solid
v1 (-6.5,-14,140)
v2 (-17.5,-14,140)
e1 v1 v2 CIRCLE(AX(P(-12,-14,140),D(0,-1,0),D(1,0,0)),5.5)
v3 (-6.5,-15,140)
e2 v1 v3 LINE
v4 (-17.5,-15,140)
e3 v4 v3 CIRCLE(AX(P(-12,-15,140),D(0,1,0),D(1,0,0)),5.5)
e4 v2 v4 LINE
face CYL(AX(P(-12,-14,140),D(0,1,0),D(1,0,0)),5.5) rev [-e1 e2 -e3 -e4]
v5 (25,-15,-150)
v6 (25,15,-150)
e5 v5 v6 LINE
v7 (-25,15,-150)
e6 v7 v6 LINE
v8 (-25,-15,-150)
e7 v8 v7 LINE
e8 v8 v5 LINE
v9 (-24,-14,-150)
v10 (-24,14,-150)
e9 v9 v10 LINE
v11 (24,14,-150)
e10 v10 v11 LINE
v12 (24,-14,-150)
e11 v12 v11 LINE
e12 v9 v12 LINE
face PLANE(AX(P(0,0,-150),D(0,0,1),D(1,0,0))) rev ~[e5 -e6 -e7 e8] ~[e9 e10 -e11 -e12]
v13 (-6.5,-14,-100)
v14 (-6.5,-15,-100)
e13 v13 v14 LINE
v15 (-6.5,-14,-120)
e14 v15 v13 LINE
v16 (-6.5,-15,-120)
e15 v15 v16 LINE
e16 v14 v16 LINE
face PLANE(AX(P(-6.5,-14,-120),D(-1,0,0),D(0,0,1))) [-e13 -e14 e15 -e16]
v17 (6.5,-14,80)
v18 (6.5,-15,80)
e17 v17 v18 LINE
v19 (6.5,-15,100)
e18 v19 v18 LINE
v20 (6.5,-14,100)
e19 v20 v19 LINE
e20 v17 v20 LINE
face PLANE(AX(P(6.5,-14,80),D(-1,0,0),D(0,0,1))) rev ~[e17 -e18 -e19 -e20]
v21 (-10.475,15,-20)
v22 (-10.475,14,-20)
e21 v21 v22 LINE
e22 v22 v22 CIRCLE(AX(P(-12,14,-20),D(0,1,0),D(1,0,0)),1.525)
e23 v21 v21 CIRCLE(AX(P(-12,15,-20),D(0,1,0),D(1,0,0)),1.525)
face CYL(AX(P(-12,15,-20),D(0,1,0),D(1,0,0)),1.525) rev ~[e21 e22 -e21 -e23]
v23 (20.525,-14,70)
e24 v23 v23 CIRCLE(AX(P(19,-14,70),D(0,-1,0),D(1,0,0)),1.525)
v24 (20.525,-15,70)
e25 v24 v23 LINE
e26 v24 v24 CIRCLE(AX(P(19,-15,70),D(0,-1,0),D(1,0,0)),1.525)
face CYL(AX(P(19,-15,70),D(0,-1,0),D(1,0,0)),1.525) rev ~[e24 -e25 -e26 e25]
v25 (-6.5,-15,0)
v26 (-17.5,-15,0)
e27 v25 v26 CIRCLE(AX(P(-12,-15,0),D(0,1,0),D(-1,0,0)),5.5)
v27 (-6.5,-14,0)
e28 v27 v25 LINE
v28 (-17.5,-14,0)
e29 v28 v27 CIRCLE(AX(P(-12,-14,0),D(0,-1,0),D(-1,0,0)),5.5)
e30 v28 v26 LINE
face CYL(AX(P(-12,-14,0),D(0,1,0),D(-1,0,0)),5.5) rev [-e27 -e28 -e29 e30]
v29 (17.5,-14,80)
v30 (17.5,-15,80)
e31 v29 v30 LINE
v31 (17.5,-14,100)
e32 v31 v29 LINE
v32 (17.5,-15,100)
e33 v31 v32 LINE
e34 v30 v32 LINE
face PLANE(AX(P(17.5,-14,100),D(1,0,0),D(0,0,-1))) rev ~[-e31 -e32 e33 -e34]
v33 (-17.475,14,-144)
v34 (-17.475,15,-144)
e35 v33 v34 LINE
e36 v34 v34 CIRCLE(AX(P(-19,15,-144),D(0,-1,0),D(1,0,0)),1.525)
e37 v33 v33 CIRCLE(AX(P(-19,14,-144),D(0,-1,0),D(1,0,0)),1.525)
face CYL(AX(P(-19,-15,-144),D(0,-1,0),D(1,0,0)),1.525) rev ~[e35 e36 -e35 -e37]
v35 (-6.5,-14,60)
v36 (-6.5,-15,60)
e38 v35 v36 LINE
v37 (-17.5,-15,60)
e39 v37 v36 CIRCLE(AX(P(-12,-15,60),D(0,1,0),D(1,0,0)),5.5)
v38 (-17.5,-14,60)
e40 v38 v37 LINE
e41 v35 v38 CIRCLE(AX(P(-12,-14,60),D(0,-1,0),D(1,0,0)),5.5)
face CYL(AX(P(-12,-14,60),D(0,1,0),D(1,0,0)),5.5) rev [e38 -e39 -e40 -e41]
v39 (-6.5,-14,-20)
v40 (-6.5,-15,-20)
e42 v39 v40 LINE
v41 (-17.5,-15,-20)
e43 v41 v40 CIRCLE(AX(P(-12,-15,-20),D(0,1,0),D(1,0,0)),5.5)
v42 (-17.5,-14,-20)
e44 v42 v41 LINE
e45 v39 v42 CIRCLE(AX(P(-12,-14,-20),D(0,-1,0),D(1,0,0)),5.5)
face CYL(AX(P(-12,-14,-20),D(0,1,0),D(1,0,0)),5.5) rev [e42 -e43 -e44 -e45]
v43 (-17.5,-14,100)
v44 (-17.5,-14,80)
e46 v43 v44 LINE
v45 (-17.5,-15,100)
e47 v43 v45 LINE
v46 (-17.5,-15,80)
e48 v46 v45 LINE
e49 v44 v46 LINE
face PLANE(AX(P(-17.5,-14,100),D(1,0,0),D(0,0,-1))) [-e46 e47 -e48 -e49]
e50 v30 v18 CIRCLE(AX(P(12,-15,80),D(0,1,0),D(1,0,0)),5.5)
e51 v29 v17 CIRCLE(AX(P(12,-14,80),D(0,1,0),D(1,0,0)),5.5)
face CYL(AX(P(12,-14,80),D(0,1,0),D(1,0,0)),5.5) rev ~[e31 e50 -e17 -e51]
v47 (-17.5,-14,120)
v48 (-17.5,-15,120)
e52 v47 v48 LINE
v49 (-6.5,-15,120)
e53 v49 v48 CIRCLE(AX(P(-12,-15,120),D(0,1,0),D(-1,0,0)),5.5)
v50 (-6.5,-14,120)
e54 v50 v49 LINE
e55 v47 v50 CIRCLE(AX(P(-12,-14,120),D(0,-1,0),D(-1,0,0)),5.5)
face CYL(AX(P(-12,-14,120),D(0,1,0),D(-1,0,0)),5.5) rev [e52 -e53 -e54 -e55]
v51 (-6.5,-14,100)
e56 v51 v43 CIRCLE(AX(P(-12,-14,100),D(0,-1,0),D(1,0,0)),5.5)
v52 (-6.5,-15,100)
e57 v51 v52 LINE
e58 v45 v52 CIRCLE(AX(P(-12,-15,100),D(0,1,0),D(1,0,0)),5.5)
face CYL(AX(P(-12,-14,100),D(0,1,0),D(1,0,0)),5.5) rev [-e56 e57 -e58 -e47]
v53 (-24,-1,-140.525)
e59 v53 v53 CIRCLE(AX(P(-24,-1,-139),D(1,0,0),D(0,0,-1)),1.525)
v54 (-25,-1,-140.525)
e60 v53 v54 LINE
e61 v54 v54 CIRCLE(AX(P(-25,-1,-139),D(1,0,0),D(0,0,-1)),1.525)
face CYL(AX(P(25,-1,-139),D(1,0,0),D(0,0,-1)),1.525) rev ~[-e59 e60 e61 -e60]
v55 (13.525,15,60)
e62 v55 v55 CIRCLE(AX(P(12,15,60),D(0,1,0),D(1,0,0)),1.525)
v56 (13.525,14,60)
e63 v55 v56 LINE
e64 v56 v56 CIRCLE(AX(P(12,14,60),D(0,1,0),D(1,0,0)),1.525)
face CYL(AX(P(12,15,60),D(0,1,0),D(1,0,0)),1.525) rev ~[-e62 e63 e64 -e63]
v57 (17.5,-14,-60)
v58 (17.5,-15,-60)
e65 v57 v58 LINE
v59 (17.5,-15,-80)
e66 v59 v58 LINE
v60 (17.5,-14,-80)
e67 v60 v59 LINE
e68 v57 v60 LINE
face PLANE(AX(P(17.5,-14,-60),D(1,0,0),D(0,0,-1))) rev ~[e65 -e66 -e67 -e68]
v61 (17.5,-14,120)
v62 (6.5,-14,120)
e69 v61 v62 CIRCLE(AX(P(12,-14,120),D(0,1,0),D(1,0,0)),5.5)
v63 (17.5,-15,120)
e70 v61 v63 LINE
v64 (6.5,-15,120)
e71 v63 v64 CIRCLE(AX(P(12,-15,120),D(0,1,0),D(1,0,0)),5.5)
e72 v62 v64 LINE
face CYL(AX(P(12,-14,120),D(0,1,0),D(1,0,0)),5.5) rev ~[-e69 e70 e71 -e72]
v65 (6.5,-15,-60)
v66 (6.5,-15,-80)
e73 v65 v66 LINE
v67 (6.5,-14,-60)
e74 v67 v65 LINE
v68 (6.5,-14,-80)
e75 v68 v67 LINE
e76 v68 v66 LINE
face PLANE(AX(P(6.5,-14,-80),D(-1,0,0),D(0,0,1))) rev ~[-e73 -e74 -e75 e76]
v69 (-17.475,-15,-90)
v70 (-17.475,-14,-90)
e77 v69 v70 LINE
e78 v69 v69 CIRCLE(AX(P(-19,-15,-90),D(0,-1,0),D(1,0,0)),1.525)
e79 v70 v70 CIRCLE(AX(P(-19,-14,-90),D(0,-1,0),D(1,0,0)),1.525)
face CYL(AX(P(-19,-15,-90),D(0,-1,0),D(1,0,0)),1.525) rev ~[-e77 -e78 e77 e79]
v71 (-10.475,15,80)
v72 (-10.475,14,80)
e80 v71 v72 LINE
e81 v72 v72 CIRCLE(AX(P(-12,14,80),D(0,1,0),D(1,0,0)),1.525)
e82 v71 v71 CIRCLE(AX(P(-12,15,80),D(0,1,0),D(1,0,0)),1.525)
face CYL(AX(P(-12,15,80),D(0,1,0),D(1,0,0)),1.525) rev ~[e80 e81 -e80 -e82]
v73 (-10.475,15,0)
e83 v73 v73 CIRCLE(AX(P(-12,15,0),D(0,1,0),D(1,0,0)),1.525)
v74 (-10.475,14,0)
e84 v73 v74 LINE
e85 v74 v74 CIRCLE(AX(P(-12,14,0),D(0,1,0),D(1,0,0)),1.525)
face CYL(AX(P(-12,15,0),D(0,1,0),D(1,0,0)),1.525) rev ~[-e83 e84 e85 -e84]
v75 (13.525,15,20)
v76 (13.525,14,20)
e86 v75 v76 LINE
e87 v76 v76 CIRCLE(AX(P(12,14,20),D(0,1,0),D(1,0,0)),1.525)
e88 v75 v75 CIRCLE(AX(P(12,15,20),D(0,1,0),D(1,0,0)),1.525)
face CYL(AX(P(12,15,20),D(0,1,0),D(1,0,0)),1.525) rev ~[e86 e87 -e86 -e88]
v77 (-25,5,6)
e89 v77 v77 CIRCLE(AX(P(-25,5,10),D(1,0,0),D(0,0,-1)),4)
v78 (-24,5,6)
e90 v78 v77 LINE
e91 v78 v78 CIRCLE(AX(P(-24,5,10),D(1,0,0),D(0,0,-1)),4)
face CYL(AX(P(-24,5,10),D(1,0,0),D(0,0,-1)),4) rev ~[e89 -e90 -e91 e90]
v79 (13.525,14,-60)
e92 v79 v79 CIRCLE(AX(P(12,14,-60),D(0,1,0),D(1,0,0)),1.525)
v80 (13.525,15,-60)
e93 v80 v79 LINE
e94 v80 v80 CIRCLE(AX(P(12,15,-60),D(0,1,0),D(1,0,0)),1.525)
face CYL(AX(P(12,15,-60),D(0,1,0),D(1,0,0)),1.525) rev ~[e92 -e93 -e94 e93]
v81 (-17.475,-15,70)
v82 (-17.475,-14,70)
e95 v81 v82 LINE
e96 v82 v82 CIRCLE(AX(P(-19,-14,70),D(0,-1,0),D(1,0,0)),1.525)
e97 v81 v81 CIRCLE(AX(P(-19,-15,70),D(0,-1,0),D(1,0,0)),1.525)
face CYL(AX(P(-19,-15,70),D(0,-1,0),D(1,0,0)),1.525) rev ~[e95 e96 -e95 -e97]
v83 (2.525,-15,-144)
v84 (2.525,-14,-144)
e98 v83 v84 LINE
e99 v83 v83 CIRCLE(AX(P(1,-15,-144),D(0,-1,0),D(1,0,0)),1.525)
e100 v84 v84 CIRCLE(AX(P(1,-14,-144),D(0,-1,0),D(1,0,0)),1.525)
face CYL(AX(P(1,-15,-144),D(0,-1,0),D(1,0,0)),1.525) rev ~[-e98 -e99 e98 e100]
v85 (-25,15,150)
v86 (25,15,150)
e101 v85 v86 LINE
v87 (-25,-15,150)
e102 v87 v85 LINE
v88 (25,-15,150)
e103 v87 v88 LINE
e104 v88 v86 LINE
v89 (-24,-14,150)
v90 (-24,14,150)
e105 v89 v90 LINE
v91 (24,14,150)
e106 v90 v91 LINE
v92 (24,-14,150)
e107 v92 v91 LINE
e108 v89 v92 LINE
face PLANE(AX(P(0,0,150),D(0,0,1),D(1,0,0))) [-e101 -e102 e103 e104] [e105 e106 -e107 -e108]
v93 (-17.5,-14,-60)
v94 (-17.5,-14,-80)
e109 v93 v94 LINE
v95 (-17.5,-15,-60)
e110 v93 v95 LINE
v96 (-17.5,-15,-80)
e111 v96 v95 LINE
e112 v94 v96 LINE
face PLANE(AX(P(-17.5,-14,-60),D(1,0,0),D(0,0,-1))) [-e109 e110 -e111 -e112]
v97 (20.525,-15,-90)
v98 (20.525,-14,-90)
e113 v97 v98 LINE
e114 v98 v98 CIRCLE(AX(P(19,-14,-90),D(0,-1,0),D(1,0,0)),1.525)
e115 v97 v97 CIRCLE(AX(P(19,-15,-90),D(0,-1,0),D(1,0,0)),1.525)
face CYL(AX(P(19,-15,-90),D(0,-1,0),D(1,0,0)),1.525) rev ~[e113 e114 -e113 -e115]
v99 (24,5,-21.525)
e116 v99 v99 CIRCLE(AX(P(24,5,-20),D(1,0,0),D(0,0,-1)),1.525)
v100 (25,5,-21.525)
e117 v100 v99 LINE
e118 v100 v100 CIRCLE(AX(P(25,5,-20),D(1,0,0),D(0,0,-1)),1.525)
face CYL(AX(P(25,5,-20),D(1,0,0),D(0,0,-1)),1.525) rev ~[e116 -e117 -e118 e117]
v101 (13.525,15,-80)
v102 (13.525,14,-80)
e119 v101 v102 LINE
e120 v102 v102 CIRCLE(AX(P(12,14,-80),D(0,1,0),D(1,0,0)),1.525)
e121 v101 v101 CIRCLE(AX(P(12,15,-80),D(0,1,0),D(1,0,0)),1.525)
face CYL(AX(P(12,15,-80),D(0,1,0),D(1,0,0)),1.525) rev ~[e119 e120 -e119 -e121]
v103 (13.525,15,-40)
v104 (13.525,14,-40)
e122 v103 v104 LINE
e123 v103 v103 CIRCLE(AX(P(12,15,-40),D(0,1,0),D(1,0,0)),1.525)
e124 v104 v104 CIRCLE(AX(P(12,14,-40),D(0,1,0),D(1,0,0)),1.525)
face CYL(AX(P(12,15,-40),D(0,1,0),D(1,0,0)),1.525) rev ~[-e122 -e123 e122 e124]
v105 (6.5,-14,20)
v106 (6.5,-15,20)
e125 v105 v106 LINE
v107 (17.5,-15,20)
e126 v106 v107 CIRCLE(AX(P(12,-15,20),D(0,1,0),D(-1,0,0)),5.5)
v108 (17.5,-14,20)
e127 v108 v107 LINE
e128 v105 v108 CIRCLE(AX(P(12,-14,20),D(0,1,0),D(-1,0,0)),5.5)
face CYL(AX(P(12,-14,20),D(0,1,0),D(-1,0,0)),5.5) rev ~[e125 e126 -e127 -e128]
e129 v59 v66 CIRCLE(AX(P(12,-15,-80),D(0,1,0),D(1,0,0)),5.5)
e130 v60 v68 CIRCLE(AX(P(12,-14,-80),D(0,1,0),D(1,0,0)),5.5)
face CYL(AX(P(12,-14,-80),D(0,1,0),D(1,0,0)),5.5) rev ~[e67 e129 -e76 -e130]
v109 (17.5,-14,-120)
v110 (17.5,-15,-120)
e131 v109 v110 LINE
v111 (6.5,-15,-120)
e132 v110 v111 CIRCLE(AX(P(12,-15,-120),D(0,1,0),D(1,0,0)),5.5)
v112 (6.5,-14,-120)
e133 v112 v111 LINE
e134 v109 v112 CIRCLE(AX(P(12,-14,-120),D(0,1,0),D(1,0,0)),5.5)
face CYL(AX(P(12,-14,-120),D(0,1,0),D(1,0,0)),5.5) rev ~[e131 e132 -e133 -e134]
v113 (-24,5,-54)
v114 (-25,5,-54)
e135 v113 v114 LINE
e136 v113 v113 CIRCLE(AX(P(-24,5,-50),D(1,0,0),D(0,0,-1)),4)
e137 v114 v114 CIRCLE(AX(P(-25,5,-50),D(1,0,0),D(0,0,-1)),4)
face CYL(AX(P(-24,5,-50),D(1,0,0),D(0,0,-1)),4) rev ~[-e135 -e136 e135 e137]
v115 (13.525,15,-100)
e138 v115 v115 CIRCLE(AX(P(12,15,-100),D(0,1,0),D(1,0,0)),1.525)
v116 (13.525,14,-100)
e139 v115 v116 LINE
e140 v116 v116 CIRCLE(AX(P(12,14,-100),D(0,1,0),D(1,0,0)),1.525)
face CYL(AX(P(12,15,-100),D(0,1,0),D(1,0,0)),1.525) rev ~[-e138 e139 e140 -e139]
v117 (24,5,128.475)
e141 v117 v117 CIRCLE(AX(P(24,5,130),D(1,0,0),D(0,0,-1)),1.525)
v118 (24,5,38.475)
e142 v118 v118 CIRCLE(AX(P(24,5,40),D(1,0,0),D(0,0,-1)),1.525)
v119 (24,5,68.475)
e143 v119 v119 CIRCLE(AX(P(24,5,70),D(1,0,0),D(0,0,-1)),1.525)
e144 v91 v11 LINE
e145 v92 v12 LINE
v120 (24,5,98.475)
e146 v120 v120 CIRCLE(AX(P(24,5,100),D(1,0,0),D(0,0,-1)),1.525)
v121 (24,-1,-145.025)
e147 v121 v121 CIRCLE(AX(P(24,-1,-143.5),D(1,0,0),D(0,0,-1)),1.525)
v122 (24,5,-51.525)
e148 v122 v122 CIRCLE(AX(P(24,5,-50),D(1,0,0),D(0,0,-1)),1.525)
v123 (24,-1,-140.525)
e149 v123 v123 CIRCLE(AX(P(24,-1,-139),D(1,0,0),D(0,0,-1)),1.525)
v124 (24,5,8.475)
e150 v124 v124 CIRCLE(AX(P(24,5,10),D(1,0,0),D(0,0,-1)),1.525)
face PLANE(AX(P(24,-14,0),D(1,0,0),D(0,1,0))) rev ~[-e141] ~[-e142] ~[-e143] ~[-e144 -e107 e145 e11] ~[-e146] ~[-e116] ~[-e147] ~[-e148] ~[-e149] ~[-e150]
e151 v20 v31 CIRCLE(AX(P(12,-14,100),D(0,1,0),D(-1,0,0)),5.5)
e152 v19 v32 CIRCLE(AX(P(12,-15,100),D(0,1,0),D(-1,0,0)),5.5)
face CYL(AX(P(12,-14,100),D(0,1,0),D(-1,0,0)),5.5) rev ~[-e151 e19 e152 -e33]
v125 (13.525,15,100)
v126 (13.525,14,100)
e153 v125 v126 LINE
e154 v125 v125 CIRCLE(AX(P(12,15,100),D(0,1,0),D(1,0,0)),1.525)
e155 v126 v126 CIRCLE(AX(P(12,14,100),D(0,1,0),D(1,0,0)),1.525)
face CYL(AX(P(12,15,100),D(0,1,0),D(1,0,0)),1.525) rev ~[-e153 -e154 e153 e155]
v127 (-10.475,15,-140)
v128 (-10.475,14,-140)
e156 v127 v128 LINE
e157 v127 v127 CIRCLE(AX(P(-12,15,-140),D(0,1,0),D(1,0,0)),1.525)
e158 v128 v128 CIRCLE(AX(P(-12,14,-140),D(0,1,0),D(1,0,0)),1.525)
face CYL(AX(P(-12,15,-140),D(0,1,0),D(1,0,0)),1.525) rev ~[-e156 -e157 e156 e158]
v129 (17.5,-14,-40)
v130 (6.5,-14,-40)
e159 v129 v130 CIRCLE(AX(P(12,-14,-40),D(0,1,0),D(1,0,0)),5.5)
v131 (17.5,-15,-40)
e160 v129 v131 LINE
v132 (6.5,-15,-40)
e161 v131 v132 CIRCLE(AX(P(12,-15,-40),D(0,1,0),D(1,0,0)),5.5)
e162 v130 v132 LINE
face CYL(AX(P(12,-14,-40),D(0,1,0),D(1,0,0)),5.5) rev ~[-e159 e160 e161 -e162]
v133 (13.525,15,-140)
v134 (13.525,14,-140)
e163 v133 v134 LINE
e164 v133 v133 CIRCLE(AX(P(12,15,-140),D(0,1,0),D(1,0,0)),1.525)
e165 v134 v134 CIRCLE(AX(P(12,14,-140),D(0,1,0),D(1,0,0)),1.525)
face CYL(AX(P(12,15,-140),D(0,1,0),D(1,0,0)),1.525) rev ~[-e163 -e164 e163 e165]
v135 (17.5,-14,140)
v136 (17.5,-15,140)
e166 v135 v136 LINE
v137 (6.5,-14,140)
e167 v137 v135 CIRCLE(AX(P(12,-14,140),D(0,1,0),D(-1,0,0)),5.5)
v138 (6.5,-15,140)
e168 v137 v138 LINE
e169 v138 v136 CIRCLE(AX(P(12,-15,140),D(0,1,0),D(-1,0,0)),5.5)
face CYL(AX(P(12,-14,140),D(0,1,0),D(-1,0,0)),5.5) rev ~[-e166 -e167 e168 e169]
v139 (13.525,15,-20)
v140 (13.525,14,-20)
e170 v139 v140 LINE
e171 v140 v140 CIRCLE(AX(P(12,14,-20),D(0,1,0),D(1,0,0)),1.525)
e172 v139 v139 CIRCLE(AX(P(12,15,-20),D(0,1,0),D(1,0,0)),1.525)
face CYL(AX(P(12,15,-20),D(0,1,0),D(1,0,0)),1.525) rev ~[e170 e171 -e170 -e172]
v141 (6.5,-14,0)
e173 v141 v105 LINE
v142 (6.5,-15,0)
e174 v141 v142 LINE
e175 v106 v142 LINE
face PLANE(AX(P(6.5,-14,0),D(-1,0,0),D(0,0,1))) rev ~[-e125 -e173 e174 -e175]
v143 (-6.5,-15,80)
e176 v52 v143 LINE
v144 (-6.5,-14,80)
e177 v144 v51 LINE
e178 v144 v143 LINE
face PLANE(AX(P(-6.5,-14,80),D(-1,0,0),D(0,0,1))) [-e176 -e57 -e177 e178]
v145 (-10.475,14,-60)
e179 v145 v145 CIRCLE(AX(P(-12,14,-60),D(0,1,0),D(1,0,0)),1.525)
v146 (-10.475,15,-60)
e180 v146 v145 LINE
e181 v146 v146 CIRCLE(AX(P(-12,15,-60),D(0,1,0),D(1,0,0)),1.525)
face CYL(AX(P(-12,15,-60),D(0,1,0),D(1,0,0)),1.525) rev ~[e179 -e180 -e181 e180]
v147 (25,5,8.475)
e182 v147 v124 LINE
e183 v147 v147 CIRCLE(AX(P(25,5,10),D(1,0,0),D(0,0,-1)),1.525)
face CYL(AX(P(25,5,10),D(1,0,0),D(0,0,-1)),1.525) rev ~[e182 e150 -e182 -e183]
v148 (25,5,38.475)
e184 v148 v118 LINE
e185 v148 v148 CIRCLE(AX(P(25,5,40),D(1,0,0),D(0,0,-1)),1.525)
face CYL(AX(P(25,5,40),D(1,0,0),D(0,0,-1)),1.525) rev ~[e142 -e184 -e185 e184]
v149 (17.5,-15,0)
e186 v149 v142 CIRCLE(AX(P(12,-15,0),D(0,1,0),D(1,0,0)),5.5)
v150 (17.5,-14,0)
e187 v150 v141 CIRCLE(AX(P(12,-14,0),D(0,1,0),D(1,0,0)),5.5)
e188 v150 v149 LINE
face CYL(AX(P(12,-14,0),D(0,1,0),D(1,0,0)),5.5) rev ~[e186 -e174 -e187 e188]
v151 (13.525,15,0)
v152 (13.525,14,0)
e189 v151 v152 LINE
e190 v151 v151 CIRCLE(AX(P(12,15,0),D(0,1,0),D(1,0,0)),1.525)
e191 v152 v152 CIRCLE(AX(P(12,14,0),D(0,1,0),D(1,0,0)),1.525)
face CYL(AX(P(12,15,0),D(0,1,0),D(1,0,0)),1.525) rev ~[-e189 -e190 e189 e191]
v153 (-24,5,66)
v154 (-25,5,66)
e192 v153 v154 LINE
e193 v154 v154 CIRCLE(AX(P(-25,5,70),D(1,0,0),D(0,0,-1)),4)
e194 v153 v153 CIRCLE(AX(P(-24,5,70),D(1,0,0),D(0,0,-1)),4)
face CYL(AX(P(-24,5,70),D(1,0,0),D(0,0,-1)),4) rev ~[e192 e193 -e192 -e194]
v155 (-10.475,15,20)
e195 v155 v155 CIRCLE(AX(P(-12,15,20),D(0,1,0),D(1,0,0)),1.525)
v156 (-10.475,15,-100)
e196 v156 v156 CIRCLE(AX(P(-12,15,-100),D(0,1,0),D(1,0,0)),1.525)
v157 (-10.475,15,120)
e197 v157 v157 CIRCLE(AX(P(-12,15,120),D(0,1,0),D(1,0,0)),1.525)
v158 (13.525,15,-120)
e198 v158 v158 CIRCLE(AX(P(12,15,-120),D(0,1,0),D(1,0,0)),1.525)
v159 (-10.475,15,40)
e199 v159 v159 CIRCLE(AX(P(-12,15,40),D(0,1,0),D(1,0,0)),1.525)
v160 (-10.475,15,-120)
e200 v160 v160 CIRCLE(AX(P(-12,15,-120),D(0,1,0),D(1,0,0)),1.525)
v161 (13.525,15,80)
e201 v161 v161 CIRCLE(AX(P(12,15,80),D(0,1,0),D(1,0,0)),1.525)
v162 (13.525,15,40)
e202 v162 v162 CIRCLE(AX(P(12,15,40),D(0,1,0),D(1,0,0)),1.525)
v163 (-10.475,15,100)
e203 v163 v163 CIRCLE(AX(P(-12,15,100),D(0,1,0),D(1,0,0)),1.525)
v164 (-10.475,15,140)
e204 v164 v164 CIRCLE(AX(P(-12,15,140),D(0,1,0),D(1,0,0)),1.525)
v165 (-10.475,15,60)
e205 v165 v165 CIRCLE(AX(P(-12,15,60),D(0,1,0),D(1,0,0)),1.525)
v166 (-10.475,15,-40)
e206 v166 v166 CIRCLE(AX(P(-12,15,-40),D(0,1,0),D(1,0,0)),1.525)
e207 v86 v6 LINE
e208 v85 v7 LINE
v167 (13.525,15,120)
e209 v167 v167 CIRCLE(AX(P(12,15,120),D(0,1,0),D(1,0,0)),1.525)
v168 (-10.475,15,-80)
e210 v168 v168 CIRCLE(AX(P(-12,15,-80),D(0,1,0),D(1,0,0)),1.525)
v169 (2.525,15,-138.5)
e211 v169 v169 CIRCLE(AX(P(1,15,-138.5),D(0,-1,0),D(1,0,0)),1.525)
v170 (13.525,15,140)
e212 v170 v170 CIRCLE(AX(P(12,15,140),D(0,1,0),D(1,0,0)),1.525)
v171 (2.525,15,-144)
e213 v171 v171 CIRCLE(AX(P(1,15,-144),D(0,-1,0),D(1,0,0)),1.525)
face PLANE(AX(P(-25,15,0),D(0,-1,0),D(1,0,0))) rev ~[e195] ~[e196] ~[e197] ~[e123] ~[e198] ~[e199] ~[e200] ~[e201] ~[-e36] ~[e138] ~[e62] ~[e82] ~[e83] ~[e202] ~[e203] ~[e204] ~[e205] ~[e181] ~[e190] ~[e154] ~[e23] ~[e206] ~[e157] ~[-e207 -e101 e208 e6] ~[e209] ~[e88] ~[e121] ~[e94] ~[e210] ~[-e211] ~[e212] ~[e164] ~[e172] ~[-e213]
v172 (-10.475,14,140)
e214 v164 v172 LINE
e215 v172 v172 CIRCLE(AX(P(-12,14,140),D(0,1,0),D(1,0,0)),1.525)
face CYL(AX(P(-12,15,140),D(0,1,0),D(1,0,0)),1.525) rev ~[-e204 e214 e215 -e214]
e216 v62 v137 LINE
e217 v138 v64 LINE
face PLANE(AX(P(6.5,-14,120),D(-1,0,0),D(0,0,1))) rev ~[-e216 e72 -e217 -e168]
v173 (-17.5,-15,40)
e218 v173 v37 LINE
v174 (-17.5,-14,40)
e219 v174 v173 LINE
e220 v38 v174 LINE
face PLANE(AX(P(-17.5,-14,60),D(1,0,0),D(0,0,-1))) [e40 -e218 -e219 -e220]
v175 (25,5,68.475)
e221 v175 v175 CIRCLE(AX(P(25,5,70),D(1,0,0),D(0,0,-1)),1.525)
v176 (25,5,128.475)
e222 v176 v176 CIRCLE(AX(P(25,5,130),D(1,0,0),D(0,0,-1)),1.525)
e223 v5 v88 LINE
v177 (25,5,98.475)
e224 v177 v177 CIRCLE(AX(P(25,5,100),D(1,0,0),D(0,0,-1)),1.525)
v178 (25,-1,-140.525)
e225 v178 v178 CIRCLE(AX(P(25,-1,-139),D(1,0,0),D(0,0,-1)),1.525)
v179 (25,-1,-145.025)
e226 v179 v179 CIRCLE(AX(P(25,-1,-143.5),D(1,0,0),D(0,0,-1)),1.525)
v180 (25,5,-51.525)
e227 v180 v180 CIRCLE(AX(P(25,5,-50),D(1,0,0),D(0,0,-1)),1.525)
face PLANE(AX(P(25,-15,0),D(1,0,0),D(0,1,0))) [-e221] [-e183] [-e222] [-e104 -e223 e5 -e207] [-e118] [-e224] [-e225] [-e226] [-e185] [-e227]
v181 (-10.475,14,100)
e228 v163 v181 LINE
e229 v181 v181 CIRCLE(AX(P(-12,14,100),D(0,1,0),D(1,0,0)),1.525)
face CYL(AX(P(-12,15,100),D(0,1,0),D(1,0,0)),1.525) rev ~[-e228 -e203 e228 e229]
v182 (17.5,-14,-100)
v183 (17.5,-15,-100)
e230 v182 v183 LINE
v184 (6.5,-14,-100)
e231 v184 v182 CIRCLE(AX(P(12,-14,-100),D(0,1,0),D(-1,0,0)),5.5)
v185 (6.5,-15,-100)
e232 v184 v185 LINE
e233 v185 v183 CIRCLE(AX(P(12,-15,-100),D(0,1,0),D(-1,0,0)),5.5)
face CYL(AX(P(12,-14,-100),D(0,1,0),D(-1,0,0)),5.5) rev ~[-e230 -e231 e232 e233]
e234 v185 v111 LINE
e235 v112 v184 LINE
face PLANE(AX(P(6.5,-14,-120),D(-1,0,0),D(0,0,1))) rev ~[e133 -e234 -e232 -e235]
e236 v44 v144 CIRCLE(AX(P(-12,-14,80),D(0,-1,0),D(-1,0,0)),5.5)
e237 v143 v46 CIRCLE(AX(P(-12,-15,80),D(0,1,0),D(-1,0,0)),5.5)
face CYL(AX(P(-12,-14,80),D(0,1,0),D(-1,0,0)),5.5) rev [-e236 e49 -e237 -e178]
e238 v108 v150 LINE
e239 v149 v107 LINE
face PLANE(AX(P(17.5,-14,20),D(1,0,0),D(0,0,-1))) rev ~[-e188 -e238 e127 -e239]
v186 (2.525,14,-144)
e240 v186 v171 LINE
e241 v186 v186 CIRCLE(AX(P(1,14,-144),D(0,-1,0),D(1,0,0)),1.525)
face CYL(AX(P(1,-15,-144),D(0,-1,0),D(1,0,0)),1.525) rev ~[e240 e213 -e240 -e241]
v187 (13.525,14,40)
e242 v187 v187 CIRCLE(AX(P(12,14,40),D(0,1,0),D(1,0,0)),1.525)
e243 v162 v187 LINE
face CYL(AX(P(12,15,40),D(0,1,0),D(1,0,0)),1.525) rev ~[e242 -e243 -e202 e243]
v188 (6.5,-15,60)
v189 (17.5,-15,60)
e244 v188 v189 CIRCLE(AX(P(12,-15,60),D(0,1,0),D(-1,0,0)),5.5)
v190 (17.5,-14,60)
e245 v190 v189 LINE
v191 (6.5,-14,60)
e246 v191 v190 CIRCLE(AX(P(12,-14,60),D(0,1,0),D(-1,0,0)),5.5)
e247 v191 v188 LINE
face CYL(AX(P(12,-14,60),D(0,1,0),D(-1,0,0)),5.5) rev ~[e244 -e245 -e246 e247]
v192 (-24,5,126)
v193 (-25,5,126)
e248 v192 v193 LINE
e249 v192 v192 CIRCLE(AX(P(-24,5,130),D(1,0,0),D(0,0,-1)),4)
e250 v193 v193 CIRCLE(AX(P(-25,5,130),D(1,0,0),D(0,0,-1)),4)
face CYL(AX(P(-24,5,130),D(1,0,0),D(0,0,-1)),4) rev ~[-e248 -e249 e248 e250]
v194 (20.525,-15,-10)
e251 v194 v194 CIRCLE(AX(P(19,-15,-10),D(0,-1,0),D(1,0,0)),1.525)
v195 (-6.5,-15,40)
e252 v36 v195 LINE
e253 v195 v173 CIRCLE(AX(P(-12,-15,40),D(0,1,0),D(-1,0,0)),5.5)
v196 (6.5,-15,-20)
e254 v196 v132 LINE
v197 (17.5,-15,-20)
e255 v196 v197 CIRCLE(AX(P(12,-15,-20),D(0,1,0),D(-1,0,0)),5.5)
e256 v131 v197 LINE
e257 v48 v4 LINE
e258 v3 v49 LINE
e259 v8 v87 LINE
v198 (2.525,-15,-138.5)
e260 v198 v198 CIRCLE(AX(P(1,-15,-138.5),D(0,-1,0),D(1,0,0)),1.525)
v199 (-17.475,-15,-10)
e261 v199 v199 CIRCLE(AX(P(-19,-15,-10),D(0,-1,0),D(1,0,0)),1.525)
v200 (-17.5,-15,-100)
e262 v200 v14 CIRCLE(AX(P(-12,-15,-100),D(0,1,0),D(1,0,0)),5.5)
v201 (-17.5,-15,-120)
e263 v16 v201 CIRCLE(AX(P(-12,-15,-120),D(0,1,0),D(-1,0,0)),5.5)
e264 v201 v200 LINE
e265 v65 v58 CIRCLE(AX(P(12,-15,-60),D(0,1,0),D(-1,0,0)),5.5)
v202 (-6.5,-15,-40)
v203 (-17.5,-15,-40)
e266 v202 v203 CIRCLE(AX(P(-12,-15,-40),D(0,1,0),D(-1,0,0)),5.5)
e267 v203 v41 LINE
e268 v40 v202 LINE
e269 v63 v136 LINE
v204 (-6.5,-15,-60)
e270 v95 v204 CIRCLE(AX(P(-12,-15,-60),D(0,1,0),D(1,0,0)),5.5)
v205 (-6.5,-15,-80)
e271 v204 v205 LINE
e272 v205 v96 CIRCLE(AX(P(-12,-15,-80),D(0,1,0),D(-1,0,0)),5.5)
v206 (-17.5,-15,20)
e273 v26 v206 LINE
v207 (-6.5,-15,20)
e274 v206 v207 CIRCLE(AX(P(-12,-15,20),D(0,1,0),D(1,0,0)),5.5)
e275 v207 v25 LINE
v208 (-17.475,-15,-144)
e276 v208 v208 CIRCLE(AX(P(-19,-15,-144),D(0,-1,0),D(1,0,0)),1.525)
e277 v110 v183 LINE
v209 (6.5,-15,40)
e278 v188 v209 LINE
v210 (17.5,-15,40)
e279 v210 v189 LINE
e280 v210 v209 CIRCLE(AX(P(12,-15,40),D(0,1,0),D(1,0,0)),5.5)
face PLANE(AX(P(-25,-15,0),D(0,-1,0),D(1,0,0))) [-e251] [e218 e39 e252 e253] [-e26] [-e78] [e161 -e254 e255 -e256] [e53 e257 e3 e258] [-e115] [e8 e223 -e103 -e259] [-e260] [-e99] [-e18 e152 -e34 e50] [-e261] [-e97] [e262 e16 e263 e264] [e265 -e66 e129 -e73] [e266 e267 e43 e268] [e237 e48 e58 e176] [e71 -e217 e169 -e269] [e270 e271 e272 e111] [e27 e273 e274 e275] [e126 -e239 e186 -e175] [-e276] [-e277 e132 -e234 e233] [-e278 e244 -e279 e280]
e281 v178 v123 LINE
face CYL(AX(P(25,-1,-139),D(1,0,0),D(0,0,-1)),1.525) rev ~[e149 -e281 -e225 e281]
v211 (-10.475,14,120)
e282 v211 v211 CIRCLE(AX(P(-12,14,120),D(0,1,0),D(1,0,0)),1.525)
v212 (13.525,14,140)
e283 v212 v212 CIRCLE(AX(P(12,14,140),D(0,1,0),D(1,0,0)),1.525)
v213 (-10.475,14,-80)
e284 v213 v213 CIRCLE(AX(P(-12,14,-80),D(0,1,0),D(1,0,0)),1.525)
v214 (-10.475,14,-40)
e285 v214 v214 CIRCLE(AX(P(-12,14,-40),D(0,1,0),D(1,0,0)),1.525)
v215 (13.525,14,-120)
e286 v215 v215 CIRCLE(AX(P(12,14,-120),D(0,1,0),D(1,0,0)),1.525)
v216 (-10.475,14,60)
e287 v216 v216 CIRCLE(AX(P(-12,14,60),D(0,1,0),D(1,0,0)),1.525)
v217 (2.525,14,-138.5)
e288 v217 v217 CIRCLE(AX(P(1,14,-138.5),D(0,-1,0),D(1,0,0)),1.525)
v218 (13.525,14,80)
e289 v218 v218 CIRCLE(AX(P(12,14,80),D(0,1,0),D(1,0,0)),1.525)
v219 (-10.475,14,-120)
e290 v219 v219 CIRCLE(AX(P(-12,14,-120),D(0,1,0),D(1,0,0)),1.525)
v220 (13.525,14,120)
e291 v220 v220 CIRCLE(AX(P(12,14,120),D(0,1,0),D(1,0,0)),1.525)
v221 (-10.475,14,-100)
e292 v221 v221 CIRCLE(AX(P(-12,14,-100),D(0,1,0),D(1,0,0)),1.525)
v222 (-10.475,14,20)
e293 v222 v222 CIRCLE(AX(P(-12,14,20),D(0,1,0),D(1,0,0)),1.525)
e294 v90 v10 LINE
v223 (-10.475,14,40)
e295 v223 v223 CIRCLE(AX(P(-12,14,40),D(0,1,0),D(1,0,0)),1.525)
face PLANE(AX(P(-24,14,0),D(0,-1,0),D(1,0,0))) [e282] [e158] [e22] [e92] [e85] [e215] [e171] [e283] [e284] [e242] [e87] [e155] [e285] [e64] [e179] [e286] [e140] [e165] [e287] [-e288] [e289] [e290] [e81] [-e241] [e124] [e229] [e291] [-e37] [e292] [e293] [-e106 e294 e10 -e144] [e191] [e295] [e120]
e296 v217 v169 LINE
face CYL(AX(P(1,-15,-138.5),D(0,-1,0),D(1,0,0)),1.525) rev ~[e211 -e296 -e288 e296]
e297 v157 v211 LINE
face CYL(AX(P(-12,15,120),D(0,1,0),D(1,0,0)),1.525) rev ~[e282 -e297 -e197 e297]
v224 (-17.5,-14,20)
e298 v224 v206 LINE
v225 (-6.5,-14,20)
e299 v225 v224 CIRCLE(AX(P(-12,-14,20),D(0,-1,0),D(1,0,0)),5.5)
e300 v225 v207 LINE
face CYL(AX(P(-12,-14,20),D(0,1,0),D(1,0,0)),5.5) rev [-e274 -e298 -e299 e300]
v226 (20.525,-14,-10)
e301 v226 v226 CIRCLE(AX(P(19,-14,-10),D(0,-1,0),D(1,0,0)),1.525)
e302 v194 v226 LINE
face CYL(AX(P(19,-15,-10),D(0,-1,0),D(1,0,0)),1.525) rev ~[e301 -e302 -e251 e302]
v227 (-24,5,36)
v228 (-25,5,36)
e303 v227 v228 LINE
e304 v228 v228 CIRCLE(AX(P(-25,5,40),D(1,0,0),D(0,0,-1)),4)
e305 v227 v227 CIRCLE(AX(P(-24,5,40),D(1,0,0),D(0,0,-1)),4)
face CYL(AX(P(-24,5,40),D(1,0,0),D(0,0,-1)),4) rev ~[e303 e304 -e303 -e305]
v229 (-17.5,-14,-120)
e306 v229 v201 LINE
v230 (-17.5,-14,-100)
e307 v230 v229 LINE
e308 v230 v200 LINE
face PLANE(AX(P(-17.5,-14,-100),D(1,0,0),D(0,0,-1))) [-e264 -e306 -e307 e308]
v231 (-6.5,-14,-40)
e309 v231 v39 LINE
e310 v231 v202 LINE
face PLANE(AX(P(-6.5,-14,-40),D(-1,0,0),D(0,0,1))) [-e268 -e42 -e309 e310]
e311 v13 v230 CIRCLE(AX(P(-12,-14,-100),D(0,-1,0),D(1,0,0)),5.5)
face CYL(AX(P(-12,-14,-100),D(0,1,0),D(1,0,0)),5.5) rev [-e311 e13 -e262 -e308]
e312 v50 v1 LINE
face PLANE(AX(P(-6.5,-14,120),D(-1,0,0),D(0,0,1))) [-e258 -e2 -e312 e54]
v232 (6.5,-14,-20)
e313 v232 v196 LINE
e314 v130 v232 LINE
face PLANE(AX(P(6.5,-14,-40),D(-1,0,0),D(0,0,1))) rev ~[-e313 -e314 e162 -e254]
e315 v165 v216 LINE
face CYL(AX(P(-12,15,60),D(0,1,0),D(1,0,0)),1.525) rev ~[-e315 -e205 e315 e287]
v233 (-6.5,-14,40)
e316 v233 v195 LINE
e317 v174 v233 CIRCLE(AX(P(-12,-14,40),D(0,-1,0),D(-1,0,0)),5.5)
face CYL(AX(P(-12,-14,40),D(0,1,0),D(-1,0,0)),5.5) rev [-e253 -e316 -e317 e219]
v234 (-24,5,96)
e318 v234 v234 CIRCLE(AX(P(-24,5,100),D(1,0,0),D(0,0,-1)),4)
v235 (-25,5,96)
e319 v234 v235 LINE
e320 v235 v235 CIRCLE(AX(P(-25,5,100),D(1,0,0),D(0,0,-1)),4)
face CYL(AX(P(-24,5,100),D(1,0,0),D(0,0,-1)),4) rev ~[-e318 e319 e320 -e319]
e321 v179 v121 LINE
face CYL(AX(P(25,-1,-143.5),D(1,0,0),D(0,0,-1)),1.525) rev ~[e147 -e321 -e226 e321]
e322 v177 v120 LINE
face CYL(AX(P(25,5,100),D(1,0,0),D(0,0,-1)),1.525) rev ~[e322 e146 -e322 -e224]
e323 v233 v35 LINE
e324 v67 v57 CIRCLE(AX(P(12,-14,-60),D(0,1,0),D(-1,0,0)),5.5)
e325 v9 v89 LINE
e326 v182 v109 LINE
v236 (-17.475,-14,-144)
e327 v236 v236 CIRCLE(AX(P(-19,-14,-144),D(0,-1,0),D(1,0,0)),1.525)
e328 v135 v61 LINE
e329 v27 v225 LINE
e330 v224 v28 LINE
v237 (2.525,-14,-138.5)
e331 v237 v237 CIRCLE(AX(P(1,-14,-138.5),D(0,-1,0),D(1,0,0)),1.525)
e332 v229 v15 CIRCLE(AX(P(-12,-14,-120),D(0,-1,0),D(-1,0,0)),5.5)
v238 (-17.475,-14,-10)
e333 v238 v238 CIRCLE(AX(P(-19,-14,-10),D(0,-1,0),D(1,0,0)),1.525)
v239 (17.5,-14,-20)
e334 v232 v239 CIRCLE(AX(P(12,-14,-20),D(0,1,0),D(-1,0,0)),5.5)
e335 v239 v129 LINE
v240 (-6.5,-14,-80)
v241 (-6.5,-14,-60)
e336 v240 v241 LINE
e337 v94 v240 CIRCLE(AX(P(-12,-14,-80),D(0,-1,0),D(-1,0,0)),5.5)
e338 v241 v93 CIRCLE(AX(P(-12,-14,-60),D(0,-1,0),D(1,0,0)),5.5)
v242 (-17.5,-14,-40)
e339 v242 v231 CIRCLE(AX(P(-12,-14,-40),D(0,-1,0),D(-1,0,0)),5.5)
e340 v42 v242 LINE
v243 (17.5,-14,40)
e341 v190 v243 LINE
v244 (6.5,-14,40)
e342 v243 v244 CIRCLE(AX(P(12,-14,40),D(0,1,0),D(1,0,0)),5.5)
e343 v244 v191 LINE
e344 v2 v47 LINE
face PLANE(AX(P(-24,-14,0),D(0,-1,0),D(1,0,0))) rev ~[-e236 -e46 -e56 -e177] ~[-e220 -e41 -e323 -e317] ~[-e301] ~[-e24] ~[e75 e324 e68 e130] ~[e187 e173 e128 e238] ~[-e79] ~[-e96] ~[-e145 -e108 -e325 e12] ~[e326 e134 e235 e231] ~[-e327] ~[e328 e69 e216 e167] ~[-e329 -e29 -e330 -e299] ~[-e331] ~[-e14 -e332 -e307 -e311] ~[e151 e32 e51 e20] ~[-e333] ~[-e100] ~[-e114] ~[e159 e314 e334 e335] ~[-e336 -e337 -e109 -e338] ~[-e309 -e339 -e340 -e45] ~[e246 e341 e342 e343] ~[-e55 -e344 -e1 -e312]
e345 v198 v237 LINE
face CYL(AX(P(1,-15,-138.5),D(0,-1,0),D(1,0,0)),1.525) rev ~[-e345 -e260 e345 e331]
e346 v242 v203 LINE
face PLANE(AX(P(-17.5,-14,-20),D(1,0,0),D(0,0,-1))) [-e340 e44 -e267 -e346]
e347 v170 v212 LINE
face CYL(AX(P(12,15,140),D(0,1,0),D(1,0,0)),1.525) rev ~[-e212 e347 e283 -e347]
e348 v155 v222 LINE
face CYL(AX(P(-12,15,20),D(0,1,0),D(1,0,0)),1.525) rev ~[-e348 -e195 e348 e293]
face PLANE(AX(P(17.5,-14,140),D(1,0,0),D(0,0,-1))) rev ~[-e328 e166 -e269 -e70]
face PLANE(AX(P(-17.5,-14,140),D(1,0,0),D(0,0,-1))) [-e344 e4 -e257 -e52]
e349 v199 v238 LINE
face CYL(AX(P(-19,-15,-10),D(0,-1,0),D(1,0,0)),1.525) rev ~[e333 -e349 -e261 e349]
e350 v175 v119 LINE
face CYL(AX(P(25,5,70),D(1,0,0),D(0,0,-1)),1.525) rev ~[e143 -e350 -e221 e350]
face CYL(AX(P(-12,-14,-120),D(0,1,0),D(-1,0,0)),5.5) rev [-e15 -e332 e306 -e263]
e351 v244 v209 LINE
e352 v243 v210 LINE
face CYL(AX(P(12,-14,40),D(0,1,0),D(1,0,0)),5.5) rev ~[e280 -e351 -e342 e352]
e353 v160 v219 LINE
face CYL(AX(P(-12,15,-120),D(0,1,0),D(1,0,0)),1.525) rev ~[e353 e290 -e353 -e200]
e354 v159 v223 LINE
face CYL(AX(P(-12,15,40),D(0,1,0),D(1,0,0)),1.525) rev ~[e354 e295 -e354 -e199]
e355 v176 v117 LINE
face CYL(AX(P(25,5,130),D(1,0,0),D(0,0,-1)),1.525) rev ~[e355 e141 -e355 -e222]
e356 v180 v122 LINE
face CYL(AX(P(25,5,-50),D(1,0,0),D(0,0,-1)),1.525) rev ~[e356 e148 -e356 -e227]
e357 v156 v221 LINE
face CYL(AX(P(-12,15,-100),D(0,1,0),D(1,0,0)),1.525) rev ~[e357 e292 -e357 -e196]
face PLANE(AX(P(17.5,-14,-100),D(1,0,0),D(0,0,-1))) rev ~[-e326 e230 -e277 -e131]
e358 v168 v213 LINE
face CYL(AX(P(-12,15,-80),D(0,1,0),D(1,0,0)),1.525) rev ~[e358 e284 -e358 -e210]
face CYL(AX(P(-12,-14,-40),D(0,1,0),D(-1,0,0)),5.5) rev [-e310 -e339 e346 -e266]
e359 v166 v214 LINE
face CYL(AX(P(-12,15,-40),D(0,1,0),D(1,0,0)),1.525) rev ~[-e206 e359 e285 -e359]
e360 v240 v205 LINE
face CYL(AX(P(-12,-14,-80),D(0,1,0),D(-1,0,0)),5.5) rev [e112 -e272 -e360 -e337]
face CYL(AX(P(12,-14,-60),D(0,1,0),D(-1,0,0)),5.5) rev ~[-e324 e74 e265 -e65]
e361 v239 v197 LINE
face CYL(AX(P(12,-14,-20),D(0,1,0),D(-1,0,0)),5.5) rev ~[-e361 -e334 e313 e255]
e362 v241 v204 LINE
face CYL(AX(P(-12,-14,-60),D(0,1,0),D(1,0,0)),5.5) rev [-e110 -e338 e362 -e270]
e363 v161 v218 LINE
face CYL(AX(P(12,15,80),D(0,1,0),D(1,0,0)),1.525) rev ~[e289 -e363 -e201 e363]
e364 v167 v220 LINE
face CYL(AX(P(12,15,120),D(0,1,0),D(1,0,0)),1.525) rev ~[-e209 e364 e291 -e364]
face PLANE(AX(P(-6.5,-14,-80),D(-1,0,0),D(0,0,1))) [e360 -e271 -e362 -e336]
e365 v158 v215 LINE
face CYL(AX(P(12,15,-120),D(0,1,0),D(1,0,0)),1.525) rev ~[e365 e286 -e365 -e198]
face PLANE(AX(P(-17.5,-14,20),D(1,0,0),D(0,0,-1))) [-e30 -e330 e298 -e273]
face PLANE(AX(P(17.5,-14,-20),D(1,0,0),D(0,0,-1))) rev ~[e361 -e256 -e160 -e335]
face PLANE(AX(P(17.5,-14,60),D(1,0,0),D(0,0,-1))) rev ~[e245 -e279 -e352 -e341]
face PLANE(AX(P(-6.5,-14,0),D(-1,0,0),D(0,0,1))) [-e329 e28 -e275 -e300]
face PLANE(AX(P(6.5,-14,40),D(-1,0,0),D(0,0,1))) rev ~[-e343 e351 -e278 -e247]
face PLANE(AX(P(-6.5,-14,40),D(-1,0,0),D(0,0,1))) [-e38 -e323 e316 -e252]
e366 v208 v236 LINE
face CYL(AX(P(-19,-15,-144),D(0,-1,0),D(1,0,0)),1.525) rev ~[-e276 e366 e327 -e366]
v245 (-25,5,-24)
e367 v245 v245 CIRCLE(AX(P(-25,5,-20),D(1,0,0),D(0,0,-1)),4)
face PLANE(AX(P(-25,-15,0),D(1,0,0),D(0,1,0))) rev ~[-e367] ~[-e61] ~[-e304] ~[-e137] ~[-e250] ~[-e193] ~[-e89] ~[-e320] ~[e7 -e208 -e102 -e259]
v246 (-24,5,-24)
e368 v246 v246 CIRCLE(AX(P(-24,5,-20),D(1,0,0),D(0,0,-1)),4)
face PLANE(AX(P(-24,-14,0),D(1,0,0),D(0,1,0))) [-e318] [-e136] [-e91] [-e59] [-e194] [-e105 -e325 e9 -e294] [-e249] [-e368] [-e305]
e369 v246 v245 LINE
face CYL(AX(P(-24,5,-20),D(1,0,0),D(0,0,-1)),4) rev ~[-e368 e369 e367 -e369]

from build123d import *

# Parameters (mm, degrees)
SKETCH_2_W               = 50
SKETCH_2_H               = 30
SKETCH_2_W_2             = 48
SKETCH_2_H_2             = 28
EXTRUDE_1_DEPTH          = 150
SKETCH_3_R               = 1.525
CUT_EXTRUDE_1_DEPTH      = 10
PATTERN_LINEAR_1_COUNT   = 7
PATTERN_LINEAR_1_PITCH   = 30
SKETCH_4_R               = 1.525
CUT_EXTRUDE_2_DEPTH      = 10
PATTERN_LINEAR_2_COUNT   = 15
PATTERN_LINEAR_2_PITCH   = 20
CUT_EXTRUDE_3_DEPTH      = 10
PATTERN_LINEAR_3_COUNT   = 7
PATTERN_LINEAR_3_PITCH   = 40
SKETCH_6_R               = 4
CUT_EXTRUDE_4_DEPTH      = 10
PATTERN_LINEAR_4_COUNT   = 7
PATTERN_LINEAR_4_PITCH   = 30
SKETCH_7_R               = 1.525
CUT_EXTRUDE_5_DEPTH      = 90
SKETCH_8_R               = 1.525
CUT_EXTRUDE_6_DEPTH      = 10
SKETCH_10_R              = 1.525
CUT_EXTRUDE_7_DEPTH      = 51
SKETCH_12_R              = 1.525
CUT_EXTRUDE_9_DEPTH      = 1
CUT_EXTRUDE_9_DEPTH_BACK = 31
SKETCH_14_R              = 1.525
CUT_EXTRUDE_10_DEPTH     = 10


with BuildPart() as part:
    # 草图2 → 凸台-拉伸1 (new body, symmetric)
    with BuildSketch(Plane.XY):
        Rectangle(SKETCH_2_W, SKETCH_2_H)
        Rectangle(SKETCH_2_W_2, SKETCH_2_H_2, mode=Mode.SUBTRACT)
    extrude(amount=EXTRUDE_1_DEPTH, both=True)

    # 草图3 → 切除-拉伸1 (cut)
    with BuildSketch(Plane(origin=(25, 0, 0), x_dir=(0, 0, -1), z_dir=(1, 0, 0))):
        with Locations((-130, 5)):
            Circle(SKETCH_3_R)
    cut_extrude_1 = extrude(amount=-CUT_EXTRUDE_1_DEPTH, mode=Mode.SUBTRACT)

    # 阵列(线性)1: 切除-拉伸1 ×7
    with Locations(*[(0, 0, -i * PATTERN_LINEAR_1_PITCH) for i in range(1, PATTERN_LINEAR_1_COUNT)]):
        add(cut_extrude_1, mode=Mode.SUBTRACT)

    # 草图4 → 切除-拉伸2 (cut)
    with BuildSketch(Plane(origin=(0, 15, 0), x_dir=(1, 0, 0), z_dir=(0, 1, 0))):
        with Locations((-12, 140)):
            Circle(SKETCH_4_R)
        with Locations((12, 140)):
            Circle(SKETCH_4_R)
    cut_extrude_2 = extrude(amount=-CUT_EXTRUDE_2_DEPTH, mode=Mode.SUBTRACT)

    # 阵列(线性)2: 切除-拉伸2 ×15
    with Locations(*[(0, 0, i * PATTERN_LINEAR_2_PITCH) for i in range(1, PATTERN_LINEAR_2_COUNT)]):
        add(cut_extrude_2, mode=Mode.SUBTRACT)

    # 草图5 → 切除-拉伸3 (cut)
    with BuildSketch(Plane(origin=(0, -14, 0), x_dir=(1, 0, 0), z_dir=(0, 1, 0))):
        with BuildLine():
            Line((-17.5, -140), (-17.5, -120))
            ThreePointArc((-17.5, -120), (-12, -114.5), (-6.5, -120))
            Line((-6.5, -120), (-6.5, -140))
            ThreePointArc((-6.5, -140), (-12, -145.5), (-17.5, -140))
        make_face()
        with BuildLine():
            Line((17.5, -140), (17.5, -120))
            ThreePointArc((17.5, -120), (12, -114.5), (6.5, -120))
            Line((6.5, -120), (6.5, -140))
            ThreePointArc((6.5, -140), (12, -145.5), (17.5, -140))
        make_face()
    cut_extrude_3 = extrude(amount=-CUT_EXTRUDE_3_DEPTH, mode=Mode.SUBTRACT)

    # 阵列(线性)3: 切除-拉伸3 ×7
    with Locations(*[(0, 0, -i * PATTERN_LINEAR_3_PITCH) for i in range(1, PATTERN_LINEAR_3_COUNT)]):
        add(cut_extrude_3, mode=Mode.SUBTRACT)

    # 草图6 → 切除-拉伸4 (cut)
    with BuildSketch(Plane(origin=(-24, 0, 0), x_dir=(0, 0, -1), z_dir=(1, 0, 0))):
        with Locations((-130, 5)):
            Circle(SKETCH_6_R)
    cut_extrude_4 = extrude(amount=-CUT_EXTRUDE_4_DEPTH, mode=Mode.SUBTRACT)

    # 阵列(线性)4: 切除-拉伸4 ×7
    with Locations(*[(0, 0, -i * PATTERN_LINEAR_4_PITCH) for i in range(1, PATTERN_LINEAR_4_COUNT)]):
        add(cut_extrude_4, mode=Mode.SUBTRACT)

    # 草图7 → 切除-拉伸5 (cut)
    with BuildSketch(Plane.XZ.offset(15)):
        with Locations((-19, -144)):
            Circle(SKETCH_7_R)
        with Locations((1, -144)):
            Circle(SKETCH_7_R)
    extrude(amount=-CUT_EXTRUDE_5_DEPTH, mode=Mode.SUBTRACT)

    # 草图8 → 切除-拉伸6 (cut)
    with BuildSketch(Plane.XZ.offset(15)):
        with Locations((19, -10)):
            Circle(SKETCH_8_R)
        with Locations((-19, -10)):
            Circle(SKETCH_8_R)
        with Locations((-19, -90)):
            Circle(SKETCH_8_R)
        with Locations((19, -90)):
            Circle(SKETCH_8_R)
        with Locations((-19, 70)):
            Circle(SKETCH_8_R)
        with Locations((19, 70)):
            Circle(SKETCH_8_R)
    extrude(amount=-CUT_EXTRUDE_6_DEPTH, mode=Mode.SUBTRACT)

    # 草图10 → 切除-拉伸7 (cut, through all)
    with BuildSketch(Plane(origin=(25, 0, 0), x_dir=(0, 0, -1), z_dir=(1, 0, 0))):
        with Locations((139, -1)):
            Circle(SKETCH_10_R)
    extrude(amount=-CUT_EXTRUDE_7_DEPTH, mode=Mode.SUBTRACT)

    # 草图12 → 切除-拉伸9 (cut, two sides)
    with BuildSketch(Plane.XZ.offset(15)) as cut_extrude_9_sk:
        with Locations((1, -138.5)):
            Circle(SKETCH_12_R)
    extrude(amount=CUT_EXTRUDE_9_DEPTH, mode=Mode.SUBTRACT)
    extrude(cut_extrude_9_sk.sketch, amount=-CUT_EXTRUDE_9_DEPTH_BACK, mode=Mode.SUBTRACT)

    # 草图14 → 切除-拉伸10 (cut)
    with BuildSketch(Plane(origin=(25, 0, 0), x_dir=(0, 0, -1), z_dir=(1, 0, 0))):
        with Locations((143.5, -1)):
            Circle(SKETCH_14_R)
    extrude(amount=-CUT_EXTRUDE_10_DEPTH, mode=Mode.SUBTRACT)


solid = part.part
